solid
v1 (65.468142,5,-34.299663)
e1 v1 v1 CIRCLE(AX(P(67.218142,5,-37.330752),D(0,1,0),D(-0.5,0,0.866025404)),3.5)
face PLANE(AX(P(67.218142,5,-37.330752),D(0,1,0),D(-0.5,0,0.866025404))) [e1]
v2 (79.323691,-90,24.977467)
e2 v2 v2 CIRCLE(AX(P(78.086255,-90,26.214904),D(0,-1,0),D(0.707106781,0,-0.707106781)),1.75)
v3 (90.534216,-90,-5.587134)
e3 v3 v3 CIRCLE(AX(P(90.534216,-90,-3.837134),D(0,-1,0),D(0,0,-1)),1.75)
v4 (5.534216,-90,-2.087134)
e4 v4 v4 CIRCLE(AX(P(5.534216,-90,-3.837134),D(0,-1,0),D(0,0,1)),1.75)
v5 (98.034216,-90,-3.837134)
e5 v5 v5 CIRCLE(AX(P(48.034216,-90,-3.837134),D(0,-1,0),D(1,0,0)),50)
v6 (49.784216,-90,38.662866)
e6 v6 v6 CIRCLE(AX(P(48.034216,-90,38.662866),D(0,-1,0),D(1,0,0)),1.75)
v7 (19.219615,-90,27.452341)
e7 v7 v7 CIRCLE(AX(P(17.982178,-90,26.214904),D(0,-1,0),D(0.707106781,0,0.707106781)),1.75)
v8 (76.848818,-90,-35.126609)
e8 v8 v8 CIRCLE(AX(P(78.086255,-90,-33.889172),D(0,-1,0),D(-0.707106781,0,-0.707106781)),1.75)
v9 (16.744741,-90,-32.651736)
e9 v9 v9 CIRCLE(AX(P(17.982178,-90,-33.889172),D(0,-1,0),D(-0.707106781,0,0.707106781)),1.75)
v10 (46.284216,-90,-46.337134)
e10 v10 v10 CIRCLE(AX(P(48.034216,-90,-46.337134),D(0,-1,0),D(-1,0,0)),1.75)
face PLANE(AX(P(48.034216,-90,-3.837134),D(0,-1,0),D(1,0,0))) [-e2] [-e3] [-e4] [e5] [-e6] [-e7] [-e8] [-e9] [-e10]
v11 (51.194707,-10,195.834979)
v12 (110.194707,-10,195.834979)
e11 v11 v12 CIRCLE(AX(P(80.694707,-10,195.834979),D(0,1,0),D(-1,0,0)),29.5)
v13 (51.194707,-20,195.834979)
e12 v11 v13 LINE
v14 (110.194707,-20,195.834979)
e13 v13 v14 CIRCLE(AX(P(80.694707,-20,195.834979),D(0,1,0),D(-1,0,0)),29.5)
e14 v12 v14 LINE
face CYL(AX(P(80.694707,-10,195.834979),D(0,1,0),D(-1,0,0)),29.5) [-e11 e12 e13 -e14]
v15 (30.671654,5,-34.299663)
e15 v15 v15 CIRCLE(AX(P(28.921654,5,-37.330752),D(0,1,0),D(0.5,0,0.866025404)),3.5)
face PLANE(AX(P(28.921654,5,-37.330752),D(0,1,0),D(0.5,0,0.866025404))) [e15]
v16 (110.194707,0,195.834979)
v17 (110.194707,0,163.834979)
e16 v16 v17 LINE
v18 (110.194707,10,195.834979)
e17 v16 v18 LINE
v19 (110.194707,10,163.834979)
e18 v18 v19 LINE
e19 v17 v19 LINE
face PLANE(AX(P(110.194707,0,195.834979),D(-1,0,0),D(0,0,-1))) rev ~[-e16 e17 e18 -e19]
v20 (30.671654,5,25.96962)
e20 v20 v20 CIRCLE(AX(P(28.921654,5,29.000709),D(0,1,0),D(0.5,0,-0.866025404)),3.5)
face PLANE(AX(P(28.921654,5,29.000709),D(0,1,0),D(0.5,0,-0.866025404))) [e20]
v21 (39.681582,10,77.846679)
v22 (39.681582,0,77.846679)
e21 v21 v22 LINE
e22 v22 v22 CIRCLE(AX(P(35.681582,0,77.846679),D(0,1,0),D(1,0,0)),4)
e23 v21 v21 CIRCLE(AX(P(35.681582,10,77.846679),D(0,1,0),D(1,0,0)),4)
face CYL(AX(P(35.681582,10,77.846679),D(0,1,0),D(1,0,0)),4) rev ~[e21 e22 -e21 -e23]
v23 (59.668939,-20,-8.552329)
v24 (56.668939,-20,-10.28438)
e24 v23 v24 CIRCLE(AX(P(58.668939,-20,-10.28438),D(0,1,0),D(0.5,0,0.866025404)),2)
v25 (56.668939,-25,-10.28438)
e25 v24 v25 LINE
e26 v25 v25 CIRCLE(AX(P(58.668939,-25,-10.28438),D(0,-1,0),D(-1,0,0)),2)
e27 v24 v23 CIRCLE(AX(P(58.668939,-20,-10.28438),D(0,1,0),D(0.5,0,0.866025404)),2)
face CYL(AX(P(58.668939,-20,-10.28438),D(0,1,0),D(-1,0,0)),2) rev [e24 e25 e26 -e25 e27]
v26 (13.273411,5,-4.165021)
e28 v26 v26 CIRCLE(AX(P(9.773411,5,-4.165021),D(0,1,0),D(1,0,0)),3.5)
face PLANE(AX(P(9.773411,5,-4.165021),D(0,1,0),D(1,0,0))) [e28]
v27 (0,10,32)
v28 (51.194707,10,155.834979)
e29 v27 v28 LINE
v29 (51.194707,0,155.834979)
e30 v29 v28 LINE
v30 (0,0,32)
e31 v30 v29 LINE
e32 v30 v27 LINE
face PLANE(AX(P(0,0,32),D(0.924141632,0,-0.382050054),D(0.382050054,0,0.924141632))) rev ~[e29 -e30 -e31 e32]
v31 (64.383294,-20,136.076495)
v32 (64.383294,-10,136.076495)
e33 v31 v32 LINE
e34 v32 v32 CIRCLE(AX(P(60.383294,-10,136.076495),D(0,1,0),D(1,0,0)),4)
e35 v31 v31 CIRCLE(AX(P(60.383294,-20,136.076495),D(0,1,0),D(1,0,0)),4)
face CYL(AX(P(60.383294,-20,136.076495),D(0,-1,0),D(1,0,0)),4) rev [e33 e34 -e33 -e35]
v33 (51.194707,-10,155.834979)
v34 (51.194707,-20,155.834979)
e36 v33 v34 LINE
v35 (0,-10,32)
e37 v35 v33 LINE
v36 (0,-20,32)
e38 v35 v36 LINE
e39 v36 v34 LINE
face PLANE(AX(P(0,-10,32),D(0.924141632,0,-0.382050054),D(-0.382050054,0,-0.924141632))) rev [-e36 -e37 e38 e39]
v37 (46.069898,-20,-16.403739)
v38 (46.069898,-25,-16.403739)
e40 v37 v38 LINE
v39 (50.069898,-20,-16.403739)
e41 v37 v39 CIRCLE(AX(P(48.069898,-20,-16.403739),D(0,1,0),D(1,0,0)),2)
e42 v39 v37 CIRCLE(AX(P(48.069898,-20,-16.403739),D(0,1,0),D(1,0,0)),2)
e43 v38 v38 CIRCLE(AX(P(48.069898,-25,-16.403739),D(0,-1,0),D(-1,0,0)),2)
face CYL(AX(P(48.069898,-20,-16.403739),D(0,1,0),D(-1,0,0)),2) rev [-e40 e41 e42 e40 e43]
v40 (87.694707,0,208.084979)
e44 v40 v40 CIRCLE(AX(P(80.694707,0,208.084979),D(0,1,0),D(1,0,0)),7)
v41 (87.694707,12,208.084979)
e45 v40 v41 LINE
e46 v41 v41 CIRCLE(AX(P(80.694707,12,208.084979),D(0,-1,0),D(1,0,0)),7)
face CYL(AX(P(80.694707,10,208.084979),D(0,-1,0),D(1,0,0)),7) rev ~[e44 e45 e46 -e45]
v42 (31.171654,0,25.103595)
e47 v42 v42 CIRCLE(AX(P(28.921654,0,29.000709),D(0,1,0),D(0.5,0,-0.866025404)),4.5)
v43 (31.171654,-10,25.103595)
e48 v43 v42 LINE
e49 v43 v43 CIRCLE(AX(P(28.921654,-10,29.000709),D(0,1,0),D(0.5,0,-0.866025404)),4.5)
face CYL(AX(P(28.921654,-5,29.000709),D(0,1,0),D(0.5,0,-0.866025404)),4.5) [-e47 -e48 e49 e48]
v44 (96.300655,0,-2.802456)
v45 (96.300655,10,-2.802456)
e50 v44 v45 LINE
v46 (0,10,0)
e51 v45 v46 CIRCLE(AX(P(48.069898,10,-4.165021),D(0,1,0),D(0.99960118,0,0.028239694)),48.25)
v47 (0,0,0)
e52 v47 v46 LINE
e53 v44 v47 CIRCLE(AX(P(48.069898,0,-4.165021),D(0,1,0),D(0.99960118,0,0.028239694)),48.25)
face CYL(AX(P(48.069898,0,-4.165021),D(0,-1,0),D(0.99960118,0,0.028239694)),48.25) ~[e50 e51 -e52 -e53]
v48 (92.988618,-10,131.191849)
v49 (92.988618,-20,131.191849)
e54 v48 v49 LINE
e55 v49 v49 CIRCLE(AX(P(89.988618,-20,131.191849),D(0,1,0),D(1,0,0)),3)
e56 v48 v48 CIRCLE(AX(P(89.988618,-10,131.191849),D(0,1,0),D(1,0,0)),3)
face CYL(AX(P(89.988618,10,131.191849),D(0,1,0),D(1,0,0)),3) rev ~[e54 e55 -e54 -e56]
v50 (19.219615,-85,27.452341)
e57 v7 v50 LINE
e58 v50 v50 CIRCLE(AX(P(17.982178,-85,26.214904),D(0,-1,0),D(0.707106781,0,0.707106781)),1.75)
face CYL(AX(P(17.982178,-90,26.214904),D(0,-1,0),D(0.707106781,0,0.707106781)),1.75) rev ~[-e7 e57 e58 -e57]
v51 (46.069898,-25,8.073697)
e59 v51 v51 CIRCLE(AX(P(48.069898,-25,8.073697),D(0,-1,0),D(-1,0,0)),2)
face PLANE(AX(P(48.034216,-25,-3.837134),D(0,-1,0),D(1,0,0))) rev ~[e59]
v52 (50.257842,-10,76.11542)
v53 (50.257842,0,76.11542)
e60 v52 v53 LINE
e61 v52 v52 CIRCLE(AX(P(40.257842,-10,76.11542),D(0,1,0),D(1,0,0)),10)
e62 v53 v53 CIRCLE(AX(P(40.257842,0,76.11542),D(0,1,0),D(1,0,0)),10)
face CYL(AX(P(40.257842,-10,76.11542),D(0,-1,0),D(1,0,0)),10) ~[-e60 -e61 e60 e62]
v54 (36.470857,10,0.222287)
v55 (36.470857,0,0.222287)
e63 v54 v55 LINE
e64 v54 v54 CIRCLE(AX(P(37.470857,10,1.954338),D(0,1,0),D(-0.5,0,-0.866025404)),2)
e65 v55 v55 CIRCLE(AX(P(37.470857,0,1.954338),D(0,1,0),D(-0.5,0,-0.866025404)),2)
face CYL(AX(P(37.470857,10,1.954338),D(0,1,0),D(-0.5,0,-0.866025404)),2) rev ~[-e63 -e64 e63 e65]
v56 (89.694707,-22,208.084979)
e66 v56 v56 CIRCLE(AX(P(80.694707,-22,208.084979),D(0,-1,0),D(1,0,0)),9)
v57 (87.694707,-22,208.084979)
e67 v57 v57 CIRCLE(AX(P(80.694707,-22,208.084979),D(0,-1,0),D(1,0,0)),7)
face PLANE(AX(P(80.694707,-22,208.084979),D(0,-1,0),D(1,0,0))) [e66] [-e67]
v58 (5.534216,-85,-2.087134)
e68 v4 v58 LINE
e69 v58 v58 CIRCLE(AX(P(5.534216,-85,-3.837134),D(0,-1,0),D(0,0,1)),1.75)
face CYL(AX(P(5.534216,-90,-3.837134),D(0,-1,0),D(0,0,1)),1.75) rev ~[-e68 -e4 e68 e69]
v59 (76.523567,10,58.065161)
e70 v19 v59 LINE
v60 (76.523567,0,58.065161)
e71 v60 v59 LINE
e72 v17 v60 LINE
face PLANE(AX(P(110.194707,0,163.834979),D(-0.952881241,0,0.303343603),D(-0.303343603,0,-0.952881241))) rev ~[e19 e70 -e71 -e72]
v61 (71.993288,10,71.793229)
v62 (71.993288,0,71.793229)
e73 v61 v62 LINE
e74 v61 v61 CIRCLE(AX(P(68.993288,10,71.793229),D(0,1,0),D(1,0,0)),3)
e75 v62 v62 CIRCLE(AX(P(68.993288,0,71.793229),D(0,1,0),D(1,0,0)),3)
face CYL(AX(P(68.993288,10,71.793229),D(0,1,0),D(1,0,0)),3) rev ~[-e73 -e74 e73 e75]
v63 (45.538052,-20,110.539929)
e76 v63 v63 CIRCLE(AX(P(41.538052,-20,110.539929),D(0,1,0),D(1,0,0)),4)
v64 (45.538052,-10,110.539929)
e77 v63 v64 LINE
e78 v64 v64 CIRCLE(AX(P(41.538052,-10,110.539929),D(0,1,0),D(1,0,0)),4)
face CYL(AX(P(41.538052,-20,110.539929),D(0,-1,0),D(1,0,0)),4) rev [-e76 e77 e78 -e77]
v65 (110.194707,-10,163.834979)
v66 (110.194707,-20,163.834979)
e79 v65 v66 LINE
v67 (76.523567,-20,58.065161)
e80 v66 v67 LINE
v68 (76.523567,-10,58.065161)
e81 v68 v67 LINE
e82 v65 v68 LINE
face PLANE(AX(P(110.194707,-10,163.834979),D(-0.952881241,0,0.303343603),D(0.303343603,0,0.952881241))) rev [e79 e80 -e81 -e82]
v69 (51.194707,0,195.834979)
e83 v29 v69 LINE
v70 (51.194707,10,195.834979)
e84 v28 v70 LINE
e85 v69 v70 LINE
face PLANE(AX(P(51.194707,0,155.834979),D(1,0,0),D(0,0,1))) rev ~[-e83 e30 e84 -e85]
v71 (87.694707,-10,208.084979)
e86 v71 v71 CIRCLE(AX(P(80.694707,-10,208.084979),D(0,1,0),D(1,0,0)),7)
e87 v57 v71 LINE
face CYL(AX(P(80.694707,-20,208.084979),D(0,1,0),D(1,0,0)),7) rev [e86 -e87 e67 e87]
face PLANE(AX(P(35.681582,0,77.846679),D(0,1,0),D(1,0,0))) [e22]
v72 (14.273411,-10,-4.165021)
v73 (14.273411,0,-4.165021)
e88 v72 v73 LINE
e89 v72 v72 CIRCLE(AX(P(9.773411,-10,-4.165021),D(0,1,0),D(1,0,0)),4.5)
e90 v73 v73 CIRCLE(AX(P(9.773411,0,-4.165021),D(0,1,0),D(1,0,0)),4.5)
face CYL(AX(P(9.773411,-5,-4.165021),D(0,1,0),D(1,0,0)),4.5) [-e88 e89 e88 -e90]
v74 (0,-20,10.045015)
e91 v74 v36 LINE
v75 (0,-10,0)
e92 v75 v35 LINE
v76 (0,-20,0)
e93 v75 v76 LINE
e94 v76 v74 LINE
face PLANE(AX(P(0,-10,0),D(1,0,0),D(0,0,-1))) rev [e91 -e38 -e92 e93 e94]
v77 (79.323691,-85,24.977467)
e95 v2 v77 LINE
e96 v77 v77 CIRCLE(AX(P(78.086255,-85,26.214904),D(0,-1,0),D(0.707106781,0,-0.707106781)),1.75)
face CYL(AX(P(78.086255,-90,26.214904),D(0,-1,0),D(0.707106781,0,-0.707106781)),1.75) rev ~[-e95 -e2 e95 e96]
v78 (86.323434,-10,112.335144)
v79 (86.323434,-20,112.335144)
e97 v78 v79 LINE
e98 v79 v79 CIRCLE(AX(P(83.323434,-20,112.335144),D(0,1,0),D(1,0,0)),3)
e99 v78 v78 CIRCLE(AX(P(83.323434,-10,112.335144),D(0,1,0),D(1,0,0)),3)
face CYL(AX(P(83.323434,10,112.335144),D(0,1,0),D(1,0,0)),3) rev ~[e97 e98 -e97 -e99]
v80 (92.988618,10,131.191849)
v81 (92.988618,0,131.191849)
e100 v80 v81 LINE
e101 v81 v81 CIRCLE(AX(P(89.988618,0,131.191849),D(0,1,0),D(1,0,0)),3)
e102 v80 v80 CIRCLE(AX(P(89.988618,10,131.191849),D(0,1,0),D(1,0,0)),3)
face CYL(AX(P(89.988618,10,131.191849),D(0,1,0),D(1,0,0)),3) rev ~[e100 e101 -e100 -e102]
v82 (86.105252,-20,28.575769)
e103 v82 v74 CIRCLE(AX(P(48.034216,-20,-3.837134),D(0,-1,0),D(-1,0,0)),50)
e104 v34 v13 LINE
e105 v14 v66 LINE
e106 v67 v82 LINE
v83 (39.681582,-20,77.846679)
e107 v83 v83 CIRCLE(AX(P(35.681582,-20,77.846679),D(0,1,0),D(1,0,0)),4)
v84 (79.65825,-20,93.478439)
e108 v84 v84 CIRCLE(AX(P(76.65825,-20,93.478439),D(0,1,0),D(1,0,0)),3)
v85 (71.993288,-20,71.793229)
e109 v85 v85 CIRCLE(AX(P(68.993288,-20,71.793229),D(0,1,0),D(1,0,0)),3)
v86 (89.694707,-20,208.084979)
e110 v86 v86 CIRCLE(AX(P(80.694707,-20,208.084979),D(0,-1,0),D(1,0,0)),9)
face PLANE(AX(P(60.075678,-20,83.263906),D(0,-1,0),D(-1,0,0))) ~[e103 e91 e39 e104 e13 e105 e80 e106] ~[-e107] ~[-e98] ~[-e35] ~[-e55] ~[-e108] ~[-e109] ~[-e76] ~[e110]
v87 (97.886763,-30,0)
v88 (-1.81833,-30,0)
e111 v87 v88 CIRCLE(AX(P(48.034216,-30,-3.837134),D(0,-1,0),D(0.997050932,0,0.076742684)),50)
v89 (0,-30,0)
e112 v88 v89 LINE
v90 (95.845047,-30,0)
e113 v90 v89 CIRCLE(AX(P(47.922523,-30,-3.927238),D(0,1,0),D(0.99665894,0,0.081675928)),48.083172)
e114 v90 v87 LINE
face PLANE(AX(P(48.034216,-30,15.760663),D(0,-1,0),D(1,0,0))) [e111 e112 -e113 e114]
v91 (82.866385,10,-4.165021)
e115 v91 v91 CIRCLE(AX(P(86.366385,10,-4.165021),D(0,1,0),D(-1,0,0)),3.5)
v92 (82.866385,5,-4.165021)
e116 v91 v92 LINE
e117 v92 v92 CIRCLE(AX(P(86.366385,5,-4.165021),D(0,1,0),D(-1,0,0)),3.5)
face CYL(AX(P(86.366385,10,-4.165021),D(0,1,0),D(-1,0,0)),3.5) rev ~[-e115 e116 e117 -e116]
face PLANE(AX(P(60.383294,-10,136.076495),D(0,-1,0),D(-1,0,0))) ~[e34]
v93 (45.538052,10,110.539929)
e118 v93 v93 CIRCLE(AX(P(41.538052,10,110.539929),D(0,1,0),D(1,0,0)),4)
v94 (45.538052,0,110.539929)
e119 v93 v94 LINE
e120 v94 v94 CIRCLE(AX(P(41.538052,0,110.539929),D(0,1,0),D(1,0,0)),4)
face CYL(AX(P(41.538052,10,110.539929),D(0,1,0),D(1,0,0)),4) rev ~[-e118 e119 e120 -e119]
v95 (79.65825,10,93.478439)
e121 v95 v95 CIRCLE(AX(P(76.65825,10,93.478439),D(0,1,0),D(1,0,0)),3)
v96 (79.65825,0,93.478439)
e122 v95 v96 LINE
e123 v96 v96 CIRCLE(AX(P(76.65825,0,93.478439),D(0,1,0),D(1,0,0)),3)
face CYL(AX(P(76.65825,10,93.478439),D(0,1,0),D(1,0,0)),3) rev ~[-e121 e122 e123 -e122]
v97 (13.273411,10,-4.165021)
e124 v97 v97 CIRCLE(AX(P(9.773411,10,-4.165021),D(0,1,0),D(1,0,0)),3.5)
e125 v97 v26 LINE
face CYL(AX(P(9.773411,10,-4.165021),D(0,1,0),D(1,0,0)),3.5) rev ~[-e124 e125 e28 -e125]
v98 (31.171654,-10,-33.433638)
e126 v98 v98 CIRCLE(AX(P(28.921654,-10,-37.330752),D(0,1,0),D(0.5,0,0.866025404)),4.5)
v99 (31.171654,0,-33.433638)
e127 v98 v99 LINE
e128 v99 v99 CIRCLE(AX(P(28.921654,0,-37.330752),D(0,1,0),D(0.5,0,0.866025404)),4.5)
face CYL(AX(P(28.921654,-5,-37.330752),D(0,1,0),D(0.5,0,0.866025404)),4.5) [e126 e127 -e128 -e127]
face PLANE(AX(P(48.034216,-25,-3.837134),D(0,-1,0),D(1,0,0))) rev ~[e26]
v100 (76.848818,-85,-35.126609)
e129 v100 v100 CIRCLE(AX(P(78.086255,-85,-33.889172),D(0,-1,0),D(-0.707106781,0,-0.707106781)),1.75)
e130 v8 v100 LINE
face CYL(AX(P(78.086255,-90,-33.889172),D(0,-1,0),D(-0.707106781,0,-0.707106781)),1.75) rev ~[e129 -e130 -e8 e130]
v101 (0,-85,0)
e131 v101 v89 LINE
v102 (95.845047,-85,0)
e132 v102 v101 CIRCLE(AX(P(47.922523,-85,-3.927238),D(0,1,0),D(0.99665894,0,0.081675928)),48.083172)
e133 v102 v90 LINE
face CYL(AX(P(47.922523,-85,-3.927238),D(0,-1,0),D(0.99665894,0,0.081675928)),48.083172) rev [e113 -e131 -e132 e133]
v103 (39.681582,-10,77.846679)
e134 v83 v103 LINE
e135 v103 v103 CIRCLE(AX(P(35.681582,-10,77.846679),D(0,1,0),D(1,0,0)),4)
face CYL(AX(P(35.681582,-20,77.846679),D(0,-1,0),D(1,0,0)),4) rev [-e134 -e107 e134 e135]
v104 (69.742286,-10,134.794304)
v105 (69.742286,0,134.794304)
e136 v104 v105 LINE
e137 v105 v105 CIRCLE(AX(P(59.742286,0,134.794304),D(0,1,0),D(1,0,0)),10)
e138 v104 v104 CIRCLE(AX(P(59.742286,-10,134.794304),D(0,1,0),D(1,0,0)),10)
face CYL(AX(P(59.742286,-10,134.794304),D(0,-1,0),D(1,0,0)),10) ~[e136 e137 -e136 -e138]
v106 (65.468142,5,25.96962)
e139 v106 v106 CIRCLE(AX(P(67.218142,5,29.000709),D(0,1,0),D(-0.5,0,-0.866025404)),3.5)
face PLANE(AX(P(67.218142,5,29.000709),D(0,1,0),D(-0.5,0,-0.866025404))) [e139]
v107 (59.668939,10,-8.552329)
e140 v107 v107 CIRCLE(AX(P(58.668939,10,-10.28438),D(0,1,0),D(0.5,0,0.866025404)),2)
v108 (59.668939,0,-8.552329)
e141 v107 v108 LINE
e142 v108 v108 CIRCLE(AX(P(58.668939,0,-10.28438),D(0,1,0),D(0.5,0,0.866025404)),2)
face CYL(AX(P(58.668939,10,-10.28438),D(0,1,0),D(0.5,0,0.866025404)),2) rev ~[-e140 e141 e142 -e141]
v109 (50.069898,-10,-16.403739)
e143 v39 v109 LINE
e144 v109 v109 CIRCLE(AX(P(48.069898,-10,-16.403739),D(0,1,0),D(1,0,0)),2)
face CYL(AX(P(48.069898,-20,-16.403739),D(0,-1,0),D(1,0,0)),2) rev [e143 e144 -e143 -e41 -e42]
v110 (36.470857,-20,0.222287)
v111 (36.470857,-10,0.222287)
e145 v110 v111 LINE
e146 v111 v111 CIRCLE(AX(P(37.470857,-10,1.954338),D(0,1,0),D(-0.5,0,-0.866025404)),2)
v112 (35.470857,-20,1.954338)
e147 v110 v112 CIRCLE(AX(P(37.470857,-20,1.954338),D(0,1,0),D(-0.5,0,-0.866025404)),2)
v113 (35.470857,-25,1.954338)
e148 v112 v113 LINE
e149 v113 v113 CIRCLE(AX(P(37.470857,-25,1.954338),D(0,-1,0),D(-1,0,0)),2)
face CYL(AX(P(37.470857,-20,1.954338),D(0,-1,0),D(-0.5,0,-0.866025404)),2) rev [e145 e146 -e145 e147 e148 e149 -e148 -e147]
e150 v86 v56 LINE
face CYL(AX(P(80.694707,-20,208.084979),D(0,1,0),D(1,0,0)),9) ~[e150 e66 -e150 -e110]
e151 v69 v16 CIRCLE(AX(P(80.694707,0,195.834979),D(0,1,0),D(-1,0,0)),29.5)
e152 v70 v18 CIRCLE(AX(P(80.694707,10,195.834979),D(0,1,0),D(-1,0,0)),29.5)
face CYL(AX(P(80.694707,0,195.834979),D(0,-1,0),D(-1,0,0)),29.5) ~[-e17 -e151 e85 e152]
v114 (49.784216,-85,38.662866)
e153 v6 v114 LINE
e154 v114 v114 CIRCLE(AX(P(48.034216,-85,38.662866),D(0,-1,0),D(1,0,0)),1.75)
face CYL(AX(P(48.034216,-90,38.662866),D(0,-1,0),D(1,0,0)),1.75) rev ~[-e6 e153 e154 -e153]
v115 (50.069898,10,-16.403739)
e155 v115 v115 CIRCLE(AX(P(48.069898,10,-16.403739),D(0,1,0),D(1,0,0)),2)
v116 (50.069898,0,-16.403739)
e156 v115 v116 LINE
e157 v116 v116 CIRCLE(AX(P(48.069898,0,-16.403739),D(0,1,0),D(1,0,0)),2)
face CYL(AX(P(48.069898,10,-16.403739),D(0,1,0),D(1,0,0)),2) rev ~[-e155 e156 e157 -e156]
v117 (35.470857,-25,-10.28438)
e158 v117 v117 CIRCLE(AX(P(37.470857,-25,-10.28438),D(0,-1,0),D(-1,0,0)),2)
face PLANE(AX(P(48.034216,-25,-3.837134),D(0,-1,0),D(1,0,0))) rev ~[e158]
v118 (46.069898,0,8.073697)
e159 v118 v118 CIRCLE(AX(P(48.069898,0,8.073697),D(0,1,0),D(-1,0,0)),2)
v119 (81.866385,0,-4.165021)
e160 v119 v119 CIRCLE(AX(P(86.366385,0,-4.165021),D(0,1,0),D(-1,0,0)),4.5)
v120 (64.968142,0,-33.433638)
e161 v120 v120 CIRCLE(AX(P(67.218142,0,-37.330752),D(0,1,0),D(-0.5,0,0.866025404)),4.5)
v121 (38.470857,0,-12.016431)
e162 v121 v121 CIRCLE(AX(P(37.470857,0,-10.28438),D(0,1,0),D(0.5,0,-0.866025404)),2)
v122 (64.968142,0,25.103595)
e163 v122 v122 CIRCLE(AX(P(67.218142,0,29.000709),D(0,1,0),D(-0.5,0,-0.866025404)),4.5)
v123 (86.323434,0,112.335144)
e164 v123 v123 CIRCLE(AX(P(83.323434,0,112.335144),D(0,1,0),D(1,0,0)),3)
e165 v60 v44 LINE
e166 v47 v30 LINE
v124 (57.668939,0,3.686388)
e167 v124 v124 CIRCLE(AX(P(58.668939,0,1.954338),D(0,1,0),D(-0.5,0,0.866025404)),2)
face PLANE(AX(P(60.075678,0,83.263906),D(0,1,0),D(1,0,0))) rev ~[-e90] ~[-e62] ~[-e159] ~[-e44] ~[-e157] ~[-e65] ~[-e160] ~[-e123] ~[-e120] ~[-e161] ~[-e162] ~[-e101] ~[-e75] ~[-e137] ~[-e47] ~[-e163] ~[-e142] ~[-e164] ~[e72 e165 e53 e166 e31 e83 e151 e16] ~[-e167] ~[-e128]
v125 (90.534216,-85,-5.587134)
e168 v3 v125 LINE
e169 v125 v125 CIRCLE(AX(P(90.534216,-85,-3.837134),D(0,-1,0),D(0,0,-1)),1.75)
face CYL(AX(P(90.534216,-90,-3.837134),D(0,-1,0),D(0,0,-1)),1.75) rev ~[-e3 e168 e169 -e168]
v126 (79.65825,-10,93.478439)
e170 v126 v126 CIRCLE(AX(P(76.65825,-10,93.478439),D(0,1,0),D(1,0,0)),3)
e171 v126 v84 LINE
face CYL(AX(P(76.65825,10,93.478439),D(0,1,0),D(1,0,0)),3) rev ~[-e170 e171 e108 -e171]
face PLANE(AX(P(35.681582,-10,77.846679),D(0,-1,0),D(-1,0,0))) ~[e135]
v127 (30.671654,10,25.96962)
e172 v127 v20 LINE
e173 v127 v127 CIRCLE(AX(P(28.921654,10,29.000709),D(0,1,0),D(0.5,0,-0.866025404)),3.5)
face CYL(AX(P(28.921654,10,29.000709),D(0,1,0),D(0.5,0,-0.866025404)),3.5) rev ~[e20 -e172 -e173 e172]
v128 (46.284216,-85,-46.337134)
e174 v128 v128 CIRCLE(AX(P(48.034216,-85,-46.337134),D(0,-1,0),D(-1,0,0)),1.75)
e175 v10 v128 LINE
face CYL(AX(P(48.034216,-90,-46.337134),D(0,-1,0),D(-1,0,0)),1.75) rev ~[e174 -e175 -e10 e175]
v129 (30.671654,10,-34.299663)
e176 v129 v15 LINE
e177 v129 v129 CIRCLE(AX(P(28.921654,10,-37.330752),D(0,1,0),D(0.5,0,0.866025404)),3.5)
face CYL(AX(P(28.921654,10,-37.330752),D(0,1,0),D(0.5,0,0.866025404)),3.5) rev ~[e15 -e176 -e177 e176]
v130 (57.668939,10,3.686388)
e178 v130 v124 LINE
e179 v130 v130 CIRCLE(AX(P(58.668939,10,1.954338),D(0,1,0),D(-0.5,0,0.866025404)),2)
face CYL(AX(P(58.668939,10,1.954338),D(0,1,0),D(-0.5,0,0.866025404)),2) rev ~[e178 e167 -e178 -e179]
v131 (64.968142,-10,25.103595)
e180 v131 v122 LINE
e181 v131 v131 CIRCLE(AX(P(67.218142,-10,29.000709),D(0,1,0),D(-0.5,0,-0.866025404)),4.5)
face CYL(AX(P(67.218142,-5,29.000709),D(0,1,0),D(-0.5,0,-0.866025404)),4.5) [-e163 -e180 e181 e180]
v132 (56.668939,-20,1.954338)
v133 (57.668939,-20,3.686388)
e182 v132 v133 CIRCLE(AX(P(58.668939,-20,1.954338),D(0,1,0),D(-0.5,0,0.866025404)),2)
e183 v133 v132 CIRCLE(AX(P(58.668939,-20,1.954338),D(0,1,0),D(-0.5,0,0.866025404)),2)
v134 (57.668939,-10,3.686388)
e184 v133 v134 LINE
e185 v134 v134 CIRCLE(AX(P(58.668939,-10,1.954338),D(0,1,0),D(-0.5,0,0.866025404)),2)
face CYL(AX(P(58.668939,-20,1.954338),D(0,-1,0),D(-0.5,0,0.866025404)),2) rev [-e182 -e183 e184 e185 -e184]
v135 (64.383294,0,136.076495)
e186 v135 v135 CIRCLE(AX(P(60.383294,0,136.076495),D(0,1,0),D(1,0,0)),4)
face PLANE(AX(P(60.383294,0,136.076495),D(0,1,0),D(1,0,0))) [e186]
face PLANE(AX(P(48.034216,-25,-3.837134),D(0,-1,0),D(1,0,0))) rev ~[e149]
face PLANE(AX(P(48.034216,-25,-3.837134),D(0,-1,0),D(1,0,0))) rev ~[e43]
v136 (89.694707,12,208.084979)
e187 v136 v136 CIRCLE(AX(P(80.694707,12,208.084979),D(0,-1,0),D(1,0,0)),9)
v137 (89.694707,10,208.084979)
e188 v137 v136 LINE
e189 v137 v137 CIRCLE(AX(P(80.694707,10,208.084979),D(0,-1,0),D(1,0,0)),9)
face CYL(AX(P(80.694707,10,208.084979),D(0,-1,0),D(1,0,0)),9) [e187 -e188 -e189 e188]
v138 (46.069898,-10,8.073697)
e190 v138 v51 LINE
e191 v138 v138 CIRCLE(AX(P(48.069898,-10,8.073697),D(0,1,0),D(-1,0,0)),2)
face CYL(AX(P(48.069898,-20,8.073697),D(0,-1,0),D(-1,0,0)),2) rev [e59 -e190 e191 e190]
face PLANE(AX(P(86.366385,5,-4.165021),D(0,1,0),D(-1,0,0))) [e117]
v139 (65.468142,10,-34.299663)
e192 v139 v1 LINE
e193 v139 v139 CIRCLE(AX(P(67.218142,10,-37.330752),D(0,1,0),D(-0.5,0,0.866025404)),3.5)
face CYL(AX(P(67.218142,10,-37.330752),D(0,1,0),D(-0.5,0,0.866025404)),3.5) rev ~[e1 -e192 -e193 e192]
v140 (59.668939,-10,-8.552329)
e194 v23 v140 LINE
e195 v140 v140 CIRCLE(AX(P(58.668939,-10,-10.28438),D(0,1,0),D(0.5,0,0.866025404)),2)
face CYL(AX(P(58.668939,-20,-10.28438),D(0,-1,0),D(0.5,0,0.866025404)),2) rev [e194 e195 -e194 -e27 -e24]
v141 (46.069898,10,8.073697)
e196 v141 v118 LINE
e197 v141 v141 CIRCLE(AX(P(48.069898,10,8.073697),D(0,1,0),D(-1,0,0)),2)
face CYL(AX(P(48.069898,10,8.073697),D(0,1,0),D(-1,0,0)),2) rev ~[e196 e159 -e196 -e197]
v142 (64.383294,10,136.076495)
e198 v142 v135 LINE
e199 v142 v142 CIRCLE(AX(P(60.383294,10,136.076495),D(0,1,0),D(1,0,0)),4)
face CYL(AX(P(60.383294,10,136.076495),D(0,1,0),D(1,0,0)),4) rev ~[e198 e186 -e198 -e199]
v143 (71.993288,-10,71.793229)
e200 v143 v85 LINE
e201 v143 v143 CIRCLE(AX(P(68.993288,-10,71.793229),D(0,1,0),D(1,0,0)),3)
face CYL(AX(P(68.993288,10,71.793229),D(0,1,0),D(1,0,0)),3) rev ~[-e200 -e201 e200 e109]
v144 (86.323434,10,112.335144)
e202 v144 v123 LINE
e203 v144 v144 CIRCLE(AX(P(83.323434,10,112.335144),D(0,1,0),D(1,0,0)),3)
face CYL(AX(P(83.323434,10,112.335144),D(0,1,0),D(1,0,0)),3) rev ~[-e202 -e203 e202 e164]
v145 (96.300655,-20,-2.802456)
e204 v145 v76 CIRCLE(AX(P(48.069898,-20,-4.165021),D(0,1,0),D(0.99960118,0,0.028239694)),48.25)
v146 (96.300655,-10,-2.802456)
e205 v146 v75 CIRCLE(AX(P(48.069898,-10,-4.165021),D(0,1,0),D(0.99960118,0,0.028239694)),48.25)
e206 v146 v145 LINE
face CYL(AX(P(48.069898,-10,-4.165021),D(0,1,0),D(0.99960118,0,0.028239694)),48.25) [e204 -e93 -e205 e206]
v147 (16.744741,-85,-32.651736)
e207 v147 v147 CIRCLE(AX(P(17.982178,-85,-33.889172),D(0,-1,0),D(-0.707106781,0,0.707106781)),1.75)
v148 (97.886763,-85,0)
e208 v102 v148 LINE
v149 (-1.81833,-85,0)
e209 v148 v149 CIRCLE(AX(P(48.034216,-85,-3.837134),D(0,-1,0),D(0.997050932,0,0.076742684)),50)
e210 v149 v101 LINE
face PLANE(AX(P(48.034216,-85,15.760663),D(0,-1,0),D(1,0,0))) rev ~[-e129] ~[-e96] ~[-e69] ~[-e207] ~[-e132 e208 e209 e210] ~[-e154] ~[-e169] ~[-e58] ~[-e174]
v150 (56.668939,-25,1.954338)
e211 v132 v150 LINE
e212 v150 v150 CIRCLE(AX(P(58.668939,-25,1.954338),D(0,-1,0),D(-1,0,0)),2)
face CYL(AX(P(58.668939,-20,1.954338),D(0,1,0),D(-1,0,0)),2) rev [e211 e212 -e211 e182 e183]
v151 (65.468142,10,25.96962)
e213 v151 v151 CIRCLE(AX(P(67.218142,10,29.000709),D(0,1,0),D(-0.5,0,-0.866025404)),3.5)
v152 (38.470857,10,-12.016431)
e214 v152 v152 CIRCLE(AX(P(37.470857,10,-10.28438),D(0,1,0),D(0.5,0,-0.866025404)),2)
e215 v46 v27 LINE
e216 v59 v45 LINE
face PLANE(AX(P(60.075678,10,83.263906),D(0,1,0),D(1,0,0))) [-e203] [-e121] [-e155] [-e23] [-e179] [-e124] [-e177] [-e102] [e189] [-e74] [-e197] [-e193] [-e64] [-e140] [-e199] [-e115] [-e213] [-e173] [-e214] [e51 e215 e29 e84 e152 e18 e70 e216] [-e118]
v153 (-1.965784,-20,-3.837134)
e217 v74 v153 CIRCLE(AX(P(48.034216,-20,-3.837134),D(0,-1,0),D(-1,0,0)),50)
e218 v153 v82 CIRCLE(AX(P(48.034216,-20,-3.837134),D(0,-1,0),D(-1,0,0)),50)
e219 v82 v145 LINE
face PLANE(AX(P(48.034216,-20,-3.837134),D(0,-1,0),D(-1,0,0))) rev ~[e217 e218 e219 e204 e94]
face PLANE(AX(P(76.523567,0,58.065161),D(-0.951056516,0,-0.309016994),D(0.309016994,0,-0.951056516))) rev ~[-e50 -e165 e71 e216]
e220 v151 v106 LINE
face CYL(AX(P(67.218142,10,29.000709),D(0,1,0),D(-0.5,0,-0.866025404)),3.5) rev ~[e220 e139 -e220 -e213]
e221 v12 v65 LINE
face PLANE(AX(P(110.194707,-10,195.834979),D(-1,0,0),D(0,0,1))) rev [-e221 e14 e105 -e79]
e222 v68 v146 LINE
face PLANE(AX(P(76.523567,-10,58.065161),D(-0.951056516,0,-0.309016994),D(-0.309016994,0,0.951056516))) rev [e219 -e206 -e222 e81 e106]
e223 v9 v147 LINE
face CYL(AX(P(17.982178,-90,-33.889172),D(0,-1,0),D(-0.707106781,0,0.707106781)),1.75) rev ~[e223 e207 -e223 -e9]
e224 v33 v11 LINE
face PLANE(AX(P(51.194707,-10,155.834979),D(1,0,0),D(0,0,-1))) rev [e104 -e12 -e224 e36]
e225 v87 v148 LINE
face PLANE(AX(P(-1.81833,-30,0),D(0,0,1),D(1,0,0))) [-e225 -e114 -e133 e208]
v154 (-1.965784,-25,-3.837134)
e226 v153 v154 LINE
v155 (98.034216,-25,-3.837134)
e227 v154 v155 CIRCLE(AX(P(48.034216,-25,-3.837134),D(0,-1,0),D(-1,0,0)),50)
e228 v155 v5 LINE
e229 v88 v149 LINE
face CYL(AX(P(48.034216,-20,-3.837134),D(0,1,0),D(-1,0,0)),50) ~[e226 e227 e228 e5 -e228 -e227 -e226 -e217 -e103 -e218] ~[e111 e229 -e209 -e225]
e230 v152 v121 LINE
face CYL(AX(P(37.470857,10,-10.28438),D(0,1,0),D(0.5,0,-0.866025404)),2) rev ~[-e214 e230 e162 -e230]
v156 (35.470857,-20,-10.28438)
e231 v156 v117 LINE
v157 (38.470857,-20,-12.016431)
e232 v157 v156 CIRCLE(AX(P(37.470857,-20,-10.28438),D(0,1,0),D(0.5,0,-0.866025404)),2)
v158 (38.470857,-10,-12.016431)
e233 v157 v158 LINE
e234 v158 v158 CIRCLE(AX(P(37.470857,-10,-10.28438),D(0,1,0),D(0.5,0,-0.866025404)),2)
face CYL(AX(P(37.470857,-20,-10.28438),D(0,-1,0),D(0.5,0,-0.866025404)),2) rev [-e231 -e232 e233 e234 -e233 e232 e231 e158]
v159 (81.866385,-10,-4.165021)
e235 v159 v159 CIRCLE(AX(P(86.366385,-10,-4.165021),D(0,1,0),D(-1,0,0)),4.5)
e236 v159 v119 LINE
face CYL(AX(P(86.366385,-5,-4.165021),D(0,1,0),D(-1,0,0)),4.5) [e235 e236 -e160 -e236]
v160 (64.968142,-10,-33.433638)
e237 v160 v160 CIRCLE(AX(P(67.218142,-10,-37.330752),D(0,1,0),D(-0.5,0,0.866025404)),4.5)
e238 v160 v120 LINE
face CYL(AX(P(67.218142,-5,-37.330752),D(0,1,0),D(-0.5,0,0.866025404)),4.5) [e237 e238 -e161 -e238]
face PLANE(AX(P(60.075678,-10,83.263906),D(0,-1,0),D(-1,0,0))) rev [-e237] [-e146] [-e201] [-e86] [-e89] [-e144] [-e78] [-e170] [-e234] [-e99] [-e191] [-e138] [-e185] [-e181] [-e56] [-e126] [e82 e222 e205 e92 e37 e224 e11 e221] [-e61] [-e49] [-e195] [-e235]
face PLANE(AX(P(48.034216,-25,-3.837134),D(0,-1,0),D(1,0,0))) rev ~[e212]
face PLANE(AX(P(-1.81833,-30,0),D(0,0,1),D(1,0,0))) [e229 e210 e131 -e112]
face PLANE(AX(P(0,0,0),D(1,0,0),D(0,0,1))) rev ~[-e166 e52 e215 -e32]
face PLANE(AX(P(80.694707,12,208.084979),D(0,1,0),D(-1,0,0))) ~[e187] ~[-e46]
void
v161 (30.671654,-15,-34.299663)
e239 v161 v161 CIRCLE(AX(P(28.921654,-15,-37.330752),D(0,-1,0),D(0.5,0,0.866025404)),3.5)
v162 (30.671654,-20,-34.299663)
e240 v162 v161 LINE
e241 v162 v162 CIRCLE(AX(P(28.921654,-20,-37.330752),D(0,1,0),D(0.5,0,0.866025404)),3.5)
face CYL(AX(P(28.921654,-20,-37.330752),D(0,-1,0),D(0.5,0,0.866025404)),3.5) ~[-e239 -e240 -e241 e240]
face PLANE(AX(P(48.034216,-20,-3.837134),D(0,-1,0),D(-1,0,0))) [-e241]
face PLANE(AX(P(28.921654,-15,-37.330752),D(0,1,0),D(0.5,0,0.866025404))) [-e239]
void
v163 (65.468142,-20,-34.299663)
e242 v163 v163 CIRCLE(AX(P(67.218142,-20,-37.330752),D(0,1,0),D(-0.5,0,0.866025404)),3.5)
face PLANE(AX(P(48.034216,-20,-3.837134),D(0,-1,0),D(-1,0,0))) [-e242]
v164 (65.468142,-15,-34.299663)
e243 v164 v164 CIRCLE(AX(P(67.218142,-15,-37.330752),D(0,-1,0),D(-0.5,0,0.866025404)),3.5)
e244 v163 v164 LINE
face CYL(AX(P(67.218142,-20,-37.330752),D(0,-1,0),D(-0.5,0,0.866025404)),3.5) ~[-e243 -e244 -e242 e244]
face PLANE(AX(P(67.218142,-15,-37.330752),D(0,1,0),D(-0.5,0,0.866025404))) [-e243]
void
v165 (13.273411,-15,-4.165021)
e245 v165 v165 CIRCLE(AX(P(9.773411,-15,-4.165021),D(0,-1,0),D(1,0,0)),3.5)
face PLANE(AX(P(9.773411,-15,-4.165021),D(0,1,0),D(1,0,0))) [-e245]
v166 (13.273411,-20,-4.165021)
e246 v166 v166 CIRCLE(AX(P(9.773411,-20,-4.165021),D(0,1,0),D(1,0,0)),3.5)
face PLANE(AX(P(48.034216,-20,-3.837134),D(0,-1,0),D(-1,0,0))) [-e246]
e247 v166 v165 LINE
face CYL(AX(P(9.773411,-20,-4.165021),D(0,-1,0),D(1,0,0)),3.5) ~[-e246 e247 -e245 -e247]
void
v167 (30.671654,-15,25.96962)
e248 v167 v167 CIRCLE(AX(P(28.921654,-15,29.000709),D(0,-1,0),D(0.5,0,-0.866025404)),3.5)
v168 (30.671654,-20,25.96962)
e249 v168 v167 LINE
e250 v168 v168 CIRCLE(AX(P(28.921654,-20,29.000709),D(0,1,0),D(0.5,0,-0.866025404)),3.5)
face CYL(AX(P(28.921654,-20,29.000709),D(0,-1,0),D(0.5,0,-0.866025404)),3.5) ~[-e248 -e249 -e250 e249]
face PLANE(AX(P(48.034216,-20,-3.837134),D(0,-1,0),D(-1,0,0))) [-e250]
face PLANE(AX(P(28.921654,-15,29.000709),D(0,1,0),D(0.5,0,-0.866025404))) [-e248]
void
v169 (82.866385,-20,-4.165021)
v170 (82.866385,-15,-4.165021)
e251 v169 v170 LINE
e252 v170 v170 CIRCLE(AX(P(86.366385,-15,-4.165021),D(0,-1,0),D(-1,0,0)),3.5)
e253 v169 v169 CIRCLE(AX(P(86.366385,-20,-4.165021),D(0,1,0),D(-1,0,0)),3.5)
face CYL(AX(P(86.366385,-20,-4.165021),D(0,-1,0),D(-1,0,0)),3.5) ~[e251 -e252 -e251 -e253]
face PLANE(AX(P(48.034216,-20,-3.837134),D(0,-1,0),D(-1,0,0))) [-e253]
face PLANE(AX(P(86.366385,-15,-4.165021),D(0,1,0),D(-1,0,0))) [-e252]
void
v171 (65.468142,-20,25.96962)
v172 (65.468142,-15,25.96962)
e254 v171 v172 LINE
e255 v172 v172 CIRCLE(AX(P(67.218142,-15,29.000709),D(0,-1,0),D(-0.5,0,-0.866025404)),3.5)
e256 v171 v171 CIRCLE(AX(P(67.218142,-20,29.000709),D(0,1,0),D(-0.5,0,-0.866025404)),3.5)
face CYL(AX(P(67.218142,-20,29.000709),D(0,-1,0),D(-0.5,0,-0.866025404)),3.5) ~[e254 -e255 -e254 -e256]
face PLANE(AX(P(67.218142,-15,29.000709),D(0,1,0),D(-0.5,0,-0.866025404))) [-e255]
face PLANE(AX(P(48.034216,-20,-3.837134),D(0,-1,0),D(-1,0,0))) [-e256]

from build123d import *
from build123d.topology import SkipClean

# Parameters (mm, degrees)
EXTRUDE_4_DEPTH          = 10
SKETCH_5_R               = 2
CUT_EXTRUDE_3_DEPTH      = 252.035308536
PATTERN_CIRCULAR_1_COUNT = 6
SKETCH_6_R               = 3.5
CUT_EXTRUDE_4_DEPTH      = 252.035308536
PATTERN_CIRCULAR_2_COUNT = 6
SKETCH_7_R               = 7
CUT_EXTRUDE_6_DEPTH      = 252.035308536
SKETCH_11_R              = 4.5
EXTRUDE_5_DEPTH          = 10
PATTERN_CIRCULAR_3_COUNT = 6
SKETCH_15_R              = 10
EXTRUDE_6_DEPTH          = 10
SKETCH_26_R              = 50
EXTRUDE_10_DEPTH         = 5
SKETCH_26_5_OUTSIDE_W    = 174.739
SKETCH_26_5_OUTSIDE_H    = 341.75
SKETCH_26_5_OUTSIDE_R    = 50
SKETCH_26_5_OUTSIDE_R_2  = 2
CUT_EXTRUDE_14_DEPTH     = 5
SKETCH_27_R              = 50
EXTRUDE_11_DEPTH         = 65
CUT_EXTRUDE_START        = -5
CUT_EXTRUDE_16_DEPTH     = 55
CUT_EXTRUDE_START_2      = -60
CUT_EXTRUDE_18_DEPTH     = 55
SKETCH_31_R              = 1.75
CUT_EXTRUDE_19_DEPTH     = 5
PATTERN_CIRCULAR_4_COUNT = 8
SKETCH_32_R              = 9
SKETCH_32_R_2            = 7
EXTRUDE_12_DEPTH         = 2
SKETCH_33_R              = 3
CUT_EXTRUDE_20_DEPTH     = 271.034675795
SKETCH_34_R              = 4
CUT_EXTRUDE_21_DEPTH     = 10


with BuildPart() as part:
    # 草图2 → 凸台-拉伸4 (new body)
    with BuildSketch(Plane(origin=(0, 0, 0), x_dir=(1, 0, 0), z_dir=(0, 1, 0))):
        with BuildLine():
            Line((0, 0), (0, -32))
            Line((0, -32), (51.194707256, -155.834978697))
            Line((51.194707256, -155.834978697), (51.194707256, -195.834978697))
            ThreePointArc((51.194707256, -195.834978697), (80.694707256, -225.334978697), (110.194707256, -195.834978697))
            Line((110.194707256, -195.834978697), (110.194707256, -163.834978697))
            Line((110.194707256, -163.834978697), (76.523567349, -58.065160992))
            Line((76.523567349, -58.065160992), (96.300654989, 2.802456051))
            ThreePointArc((96.300654989, 2.802456051), (46.666363617, 52.394603419), (0, 0))
        make_face()
    extrude(amount=EXTRUDE_4_DEPTH)

    # 草图5 → 切除-拉伸3 (cut, through all)
    with BuildSketch(Plane(origin=(0, 10, 0), x_dir=(1, 0, 0), z_dir=(0, 1, 0))):
        with Locations((48.06989804, 16.403739233)):
            Circle(SKETCH_5_R)
    cut_extrude_3 = extrude(amount=-CUT_EXTRUDE_3_DEPTH, mode=Mode.SUBTRACT)

    # 阵列(圆周)1: 切除-拉伸3 ×6 about axis
    pattern_circular_1_axis = Axis((48.06989804, 10, -4.165021303), (0, -1, 0))
    for i in range(1, PATTERN_CIRCULAR_1_COUNT):
        add(cut_extrude_3.rotate(pattern_circular_1_axis, i * 360 / PATTERN_CIRCULAR_1_COUNT), mode=Mode.SUBTRACT)

    # 草图6 → 切除-拉伸4 (cut, through all)
    with BuildSketch(Plane(origin=(0, 10, 0), x_dir=(1, 0, 0), z_dir=(0, 1, 0))):
        with Locations((9.773410956, 4.165021303)):
            Circle(SKETCH_6_R)
    cut_extrude_4 = extrude(amount=-CUT_EXTRUDE_4_DEPTH, mode=Mode.SUBTRACT)

    # 阵列(圆周)2: 切除-拉伸4 ×6 about axis
    pattern_circular_2_axis = Axis((48.06989804, 10, -4.165021303), (0, -1, 0))
    for i in range(1, PATTERN_CIRCULAR_2_COUNT):
        add(cut_extrude_4.rotate(pattern_circular_2_axis, i * 360 / PATTERN_CIRCULAR_2_COUNT), mode=Mode.SUBTRACT)

    # 草图7 → 切除-拉伸6 (cut, through all)
    with BuildSketch(Plane(origin=(0, 10, 0), x_dir=(1, 0, 0), z_dir=(0, 1, 0))):
        with Locations((80.694707256, -208.084978697)):
            Circle(SKETCH_7_R)
    extrude(amount=-CUT_EXTRUDE_6_DEPTH, mode=Mode.SUBTRACT)


with BuildPart() as body_2:
    # 镜向6: mirrored copy
    add(part.part.mirror(Plane.ZX.offset(-5)))


with BuildPart() as part_1:
    add(part.part)

    add(body_2.part)  # 凸台-拉伸5 merges body 2
    # 草图11 → 凸台-拉伸5 (add, symmetric)
    with BuildSketch(Plane(origin=(0, -5, 0), x_dir=(1, 0, 0), z_dir=(0, 1, 0))):
        with Locations((9.773410956, 4.165021303)):
            Circle(SKETCH_11_R)
    extrude_5 = extrude(amount=EXTRUDE_5_DEPTH, both=True)

    # 阵列(圆周)3: 凸台-拉伸5 ×6 about axis
    pattern_circular_3_axis = Axis((48.06989804, -20, -4.165021303), (0, 1, 0))
    for i in range(1, PATTERN_CIRCULAR_3_COUNT):
        add(extrude_5.rotate(pattern_circular_3_axis, i * 360 / PATTERN_CIRCULAR_3_COUNT))

    # 草图15 → 凸台-拉伸6 (add)
    with BuildSketch(Plane(origin=(0, -10, 0), x_dir=(1, 0, 0), z_dir=(0, 1, 0))):
        with Locations((40.25784211, -76.11542009)):
            Circle(SKETCH_15_R)
        with Locations((59.742285998, -134.794304017)):
            Circle(SKETCH_15_R)
    extrude(amount=EXTRUDE_6_DEPTH)

    # 草图26 → 凸台-拉伸10 (add)
    with BuildSketch(Plane(origin=(0, -20, 0), x_dir=(-1, 0, 0), z_dir=(0, -1, 0))):
        with Locations((-48.034216366, 3.837134188)):
            Circle(SKETCH_26_R)
    extrude(amount=EXTRUDE_10_DEPTH)

    # 草图26<5> outside → 切除-拉伸14 (cut)
    # profile 1 of 7: a face of its own
    with SkipClean():  # the faces are left unmerged after this step: merging them gives an invalid solid
        with BuildSketch(Plane(origin=(0, -20, 0), x_dir=(-1, 0, 0), z_dir=(0, -1, 0))):
            with Locations((-54.1145, -85.749)):
                Rectangle(SKETCH_26_5_OUTSIDE_W, SKETCH_26_5_OUTSIDE_H)
            with Locations((-48.034216366, 3.837134188)):
                Circle(SKETCH_26_5_OUTSIDE_R, mode=Mode.SUBTRACT)
        # profile 2 of 7: a face of its own
        with BuildSketch(Plane(origin=(0, -20, 0), x_dir=(-1, 0, 0), z_dir=(0, -1, 0))):
            with Locations((-48.06989804, 16.403739233)):
                Circle(SKETCH_26_5_OUTSIDE_R_2)
        # profile 3 of 7: a face of its own
        with BuildSketch(Plane(origin=(0, -20, 0), x_dir=(-1, 0, 0), z_dir=(0, -1, 0))):
            with Locations((-37.470857403, 10.284380268)):
                Circle(SKETCH_26_5_OUTSIDE_R_2)
        # profile 4 of 7: a face of its own
        with BuildSketch(Plane(origin=(0, -20, 0), x_dir=(-1, 0, 0), z_dir=(0, -1, 0))):
            with Locations((-37.470857403, -1.954337662)):
                Circle(SKETCH_26_5_OUTSIDE_R_2)
        # profile 5 of 7: a face of its own
        with BuildSketch(Plane(origin=(0, -20, 0), x_dir=(-1, 0, 0), z_dir=(0, -1, 0))):
            with Locations((-48.06989804, -8.073696627)):
                Circle(SKETCH_26_5_OUTSIDE_R_2)
        # profile 6 of 7: a face of its own
        with BuildSketch(Plane(origin=(0, -20, 0), x_dir=(-1, 0, 0), z_dir=(0, -1, 0))):
            with Locations((-58.668938677, -1.954337662)):
                Circle(SKETCH_26_5_OUTSIDE_R_2)
        # profile 7 of 7: a face of its own
        with BuildSketch(Plane(origin=(0, -20, 0), x_dir=(-1, 0, 0), z_dir=(0, -1, 0))):
            with Locations((-58.668938677, 10.284380268)):
                Circle(SKETCH_26_5_OUTSIDE_R_2)
        extrude(amount=CUT_EXTRUDE_14_DEPTH, mode=Mode.SUBTRACT)

    # 草图27 → 凸台-拉伸11 (add)
    with SkipClean():  # the faces are left unmerged after this step: merging them gives an invalid solid
        with BuildSketch(Plane.XZ.offset(25)):
            with Locations((48.034216366, -3.837134188)):
                Circle(SKETCH_27_R)
        extrude(amount=EXTRUDE_11_DEPTH)

    # 草图30 → 切除-拉伸16 (cut)
    with SkipClean():  # the faces are left unmerged after this step: merging them gives an invalid solid
        with BuildSketch(Plane.XZ.offset(90).offset(CUT_EXTRUDE_START)):
            with BuildLine():
                Line((0, 0), (95.845046759, 0))
                ThreePointArc((95.845046759, 0), (47.922523379, -52.010409834), (0, 0))
            make_face()
        extrude(amount=-CUT_EXTRUDE_16_DEPTH, mode=Mode.SUBTRACT)

    # 草图28 → 切除-拉伸18 (cut)
    with SkipClean():  # the faces are left unmerged after this step: merging them gives an invalid solid
        with BuildSketch(Plane.XZ.offset(90).offset(CUT_EXTRUDE_START_2)):
            with BuildLine():
                Line((-1.818330221, 0), (97.886762953, 0))
                ThreePointArc((97.886762953, 0), (48.034216366, 46.162865812), (-1.818330221, 0))
            make_face()
        extrude(amount=CUT_EXTRUDE_18_DEPTH, mode=Mode.SUBTRACT)

    # 草图31 → 切除-拉伸19 (cut)
    with SkipClean():  # the faces are left unmerged after this step: merging them gives an invalid solid
        with BuildSketch(Plane(origin=(0, -90, 0), x_dir=(-1, 0, 0), z_dir=(0, -1, 0))):
            with Locations((-48.034216366, 46.337134188)):
                Circle(SKETCH_31_R)
        cut_extrude_19 = extrude(amount=-CUT_EXTRUDE_19_DEPTH, mode=Mode.SUBTRACT)

    # 阵列(圆周)4: 切除-拉伸19 ×8 about axis
    with SkipClean():  # the faces are left unmerged after this step: merging them gives an invalid solid
        pattern_circular_4_axis = Axis((48.034216366, -25, -3.837134188), (0, 1, 0))
        for i in range(1, PATTERN_CIRCULAR_4_COUNT):
            add(cut_extrude_19.rotate(pattern_circular_4_axis, i * 360 / PATTERN_CIRCULAR_4_COUNT), mode=Mode.SUBTRACT)

    # 草图32 → 凸台-拉伸12 (add)
    with SkipClean():  # the faces are left unmerged after this step: merging them gives an invalid solid
        with BuildSketch(Plane.XZ.offset(20)):
            with Locations((80.694707256, 208.084978697)):
                Circle(SKETCH_32_R)
            with Locations((80.694707256, 208.084978697)):
                Circle(SKETCH_32_R_2, mode=Mode.SUBTRACT)
        extrude_12 = extrude(amount=EXTRUDE_12_DEPTH)

    # 草图33 → 切除-拉伸20 (cut, through all)
    with BuildSketch(Plane(origin=(0, 10, 0), x_dir=(1, 0, 0), z_dir=(0, 1, 0))):
        with Locations((68.993287967, -71.793228779)):
            Circle(SKETCH_33_R)
        with Locations((76.658249851, -93.478439392)):
            Circle(SKETCH_33_R)
        with Locations((83.323434097, -112.335144272)):
            Circle(SKETCH_33_R)
        with Locations((89.988618344, -131.191849153)):
            Circle(SKETCH_33_R)
    extrude(amount=-CUT_EXTRUDE_20_DEPTH, mode=Mode.SUBTRACT)

    # 草图34 → 切除-拉伸21 (cut)
    with BuildSketch(Plane(origin=(0, 10, 0), x_dir=(1, 0, 0), z_dir=(0, 1, 0))):
        with Locations((35.681581865, -77.846678561)):
            Circle(SKETCH_34_R)
        with Locations((41.53805169, -110.53992851)):
            Circle(SKETCH_34_R)
        with Locations((60.383294084, -136.076495377)):
            Circle(SKETCH_34_R)
    cut_extrude_21 = extrude(amount=-CUT_EXTRUDE_21_DEPTH, mode=Mode.SUBTRACT)

    # 镜向7: 切除-拉伸21 across plane
    add(cut_extrude_21.mirror(Plane.ZX.offset(-5)), mode=Mode.SUBTRACT)

    # 镜向8: 凸台-拉伸12 across plane
    add(extrude_12.mirror(Plane.ZX.offset(-5)))


solid = part_1.part
